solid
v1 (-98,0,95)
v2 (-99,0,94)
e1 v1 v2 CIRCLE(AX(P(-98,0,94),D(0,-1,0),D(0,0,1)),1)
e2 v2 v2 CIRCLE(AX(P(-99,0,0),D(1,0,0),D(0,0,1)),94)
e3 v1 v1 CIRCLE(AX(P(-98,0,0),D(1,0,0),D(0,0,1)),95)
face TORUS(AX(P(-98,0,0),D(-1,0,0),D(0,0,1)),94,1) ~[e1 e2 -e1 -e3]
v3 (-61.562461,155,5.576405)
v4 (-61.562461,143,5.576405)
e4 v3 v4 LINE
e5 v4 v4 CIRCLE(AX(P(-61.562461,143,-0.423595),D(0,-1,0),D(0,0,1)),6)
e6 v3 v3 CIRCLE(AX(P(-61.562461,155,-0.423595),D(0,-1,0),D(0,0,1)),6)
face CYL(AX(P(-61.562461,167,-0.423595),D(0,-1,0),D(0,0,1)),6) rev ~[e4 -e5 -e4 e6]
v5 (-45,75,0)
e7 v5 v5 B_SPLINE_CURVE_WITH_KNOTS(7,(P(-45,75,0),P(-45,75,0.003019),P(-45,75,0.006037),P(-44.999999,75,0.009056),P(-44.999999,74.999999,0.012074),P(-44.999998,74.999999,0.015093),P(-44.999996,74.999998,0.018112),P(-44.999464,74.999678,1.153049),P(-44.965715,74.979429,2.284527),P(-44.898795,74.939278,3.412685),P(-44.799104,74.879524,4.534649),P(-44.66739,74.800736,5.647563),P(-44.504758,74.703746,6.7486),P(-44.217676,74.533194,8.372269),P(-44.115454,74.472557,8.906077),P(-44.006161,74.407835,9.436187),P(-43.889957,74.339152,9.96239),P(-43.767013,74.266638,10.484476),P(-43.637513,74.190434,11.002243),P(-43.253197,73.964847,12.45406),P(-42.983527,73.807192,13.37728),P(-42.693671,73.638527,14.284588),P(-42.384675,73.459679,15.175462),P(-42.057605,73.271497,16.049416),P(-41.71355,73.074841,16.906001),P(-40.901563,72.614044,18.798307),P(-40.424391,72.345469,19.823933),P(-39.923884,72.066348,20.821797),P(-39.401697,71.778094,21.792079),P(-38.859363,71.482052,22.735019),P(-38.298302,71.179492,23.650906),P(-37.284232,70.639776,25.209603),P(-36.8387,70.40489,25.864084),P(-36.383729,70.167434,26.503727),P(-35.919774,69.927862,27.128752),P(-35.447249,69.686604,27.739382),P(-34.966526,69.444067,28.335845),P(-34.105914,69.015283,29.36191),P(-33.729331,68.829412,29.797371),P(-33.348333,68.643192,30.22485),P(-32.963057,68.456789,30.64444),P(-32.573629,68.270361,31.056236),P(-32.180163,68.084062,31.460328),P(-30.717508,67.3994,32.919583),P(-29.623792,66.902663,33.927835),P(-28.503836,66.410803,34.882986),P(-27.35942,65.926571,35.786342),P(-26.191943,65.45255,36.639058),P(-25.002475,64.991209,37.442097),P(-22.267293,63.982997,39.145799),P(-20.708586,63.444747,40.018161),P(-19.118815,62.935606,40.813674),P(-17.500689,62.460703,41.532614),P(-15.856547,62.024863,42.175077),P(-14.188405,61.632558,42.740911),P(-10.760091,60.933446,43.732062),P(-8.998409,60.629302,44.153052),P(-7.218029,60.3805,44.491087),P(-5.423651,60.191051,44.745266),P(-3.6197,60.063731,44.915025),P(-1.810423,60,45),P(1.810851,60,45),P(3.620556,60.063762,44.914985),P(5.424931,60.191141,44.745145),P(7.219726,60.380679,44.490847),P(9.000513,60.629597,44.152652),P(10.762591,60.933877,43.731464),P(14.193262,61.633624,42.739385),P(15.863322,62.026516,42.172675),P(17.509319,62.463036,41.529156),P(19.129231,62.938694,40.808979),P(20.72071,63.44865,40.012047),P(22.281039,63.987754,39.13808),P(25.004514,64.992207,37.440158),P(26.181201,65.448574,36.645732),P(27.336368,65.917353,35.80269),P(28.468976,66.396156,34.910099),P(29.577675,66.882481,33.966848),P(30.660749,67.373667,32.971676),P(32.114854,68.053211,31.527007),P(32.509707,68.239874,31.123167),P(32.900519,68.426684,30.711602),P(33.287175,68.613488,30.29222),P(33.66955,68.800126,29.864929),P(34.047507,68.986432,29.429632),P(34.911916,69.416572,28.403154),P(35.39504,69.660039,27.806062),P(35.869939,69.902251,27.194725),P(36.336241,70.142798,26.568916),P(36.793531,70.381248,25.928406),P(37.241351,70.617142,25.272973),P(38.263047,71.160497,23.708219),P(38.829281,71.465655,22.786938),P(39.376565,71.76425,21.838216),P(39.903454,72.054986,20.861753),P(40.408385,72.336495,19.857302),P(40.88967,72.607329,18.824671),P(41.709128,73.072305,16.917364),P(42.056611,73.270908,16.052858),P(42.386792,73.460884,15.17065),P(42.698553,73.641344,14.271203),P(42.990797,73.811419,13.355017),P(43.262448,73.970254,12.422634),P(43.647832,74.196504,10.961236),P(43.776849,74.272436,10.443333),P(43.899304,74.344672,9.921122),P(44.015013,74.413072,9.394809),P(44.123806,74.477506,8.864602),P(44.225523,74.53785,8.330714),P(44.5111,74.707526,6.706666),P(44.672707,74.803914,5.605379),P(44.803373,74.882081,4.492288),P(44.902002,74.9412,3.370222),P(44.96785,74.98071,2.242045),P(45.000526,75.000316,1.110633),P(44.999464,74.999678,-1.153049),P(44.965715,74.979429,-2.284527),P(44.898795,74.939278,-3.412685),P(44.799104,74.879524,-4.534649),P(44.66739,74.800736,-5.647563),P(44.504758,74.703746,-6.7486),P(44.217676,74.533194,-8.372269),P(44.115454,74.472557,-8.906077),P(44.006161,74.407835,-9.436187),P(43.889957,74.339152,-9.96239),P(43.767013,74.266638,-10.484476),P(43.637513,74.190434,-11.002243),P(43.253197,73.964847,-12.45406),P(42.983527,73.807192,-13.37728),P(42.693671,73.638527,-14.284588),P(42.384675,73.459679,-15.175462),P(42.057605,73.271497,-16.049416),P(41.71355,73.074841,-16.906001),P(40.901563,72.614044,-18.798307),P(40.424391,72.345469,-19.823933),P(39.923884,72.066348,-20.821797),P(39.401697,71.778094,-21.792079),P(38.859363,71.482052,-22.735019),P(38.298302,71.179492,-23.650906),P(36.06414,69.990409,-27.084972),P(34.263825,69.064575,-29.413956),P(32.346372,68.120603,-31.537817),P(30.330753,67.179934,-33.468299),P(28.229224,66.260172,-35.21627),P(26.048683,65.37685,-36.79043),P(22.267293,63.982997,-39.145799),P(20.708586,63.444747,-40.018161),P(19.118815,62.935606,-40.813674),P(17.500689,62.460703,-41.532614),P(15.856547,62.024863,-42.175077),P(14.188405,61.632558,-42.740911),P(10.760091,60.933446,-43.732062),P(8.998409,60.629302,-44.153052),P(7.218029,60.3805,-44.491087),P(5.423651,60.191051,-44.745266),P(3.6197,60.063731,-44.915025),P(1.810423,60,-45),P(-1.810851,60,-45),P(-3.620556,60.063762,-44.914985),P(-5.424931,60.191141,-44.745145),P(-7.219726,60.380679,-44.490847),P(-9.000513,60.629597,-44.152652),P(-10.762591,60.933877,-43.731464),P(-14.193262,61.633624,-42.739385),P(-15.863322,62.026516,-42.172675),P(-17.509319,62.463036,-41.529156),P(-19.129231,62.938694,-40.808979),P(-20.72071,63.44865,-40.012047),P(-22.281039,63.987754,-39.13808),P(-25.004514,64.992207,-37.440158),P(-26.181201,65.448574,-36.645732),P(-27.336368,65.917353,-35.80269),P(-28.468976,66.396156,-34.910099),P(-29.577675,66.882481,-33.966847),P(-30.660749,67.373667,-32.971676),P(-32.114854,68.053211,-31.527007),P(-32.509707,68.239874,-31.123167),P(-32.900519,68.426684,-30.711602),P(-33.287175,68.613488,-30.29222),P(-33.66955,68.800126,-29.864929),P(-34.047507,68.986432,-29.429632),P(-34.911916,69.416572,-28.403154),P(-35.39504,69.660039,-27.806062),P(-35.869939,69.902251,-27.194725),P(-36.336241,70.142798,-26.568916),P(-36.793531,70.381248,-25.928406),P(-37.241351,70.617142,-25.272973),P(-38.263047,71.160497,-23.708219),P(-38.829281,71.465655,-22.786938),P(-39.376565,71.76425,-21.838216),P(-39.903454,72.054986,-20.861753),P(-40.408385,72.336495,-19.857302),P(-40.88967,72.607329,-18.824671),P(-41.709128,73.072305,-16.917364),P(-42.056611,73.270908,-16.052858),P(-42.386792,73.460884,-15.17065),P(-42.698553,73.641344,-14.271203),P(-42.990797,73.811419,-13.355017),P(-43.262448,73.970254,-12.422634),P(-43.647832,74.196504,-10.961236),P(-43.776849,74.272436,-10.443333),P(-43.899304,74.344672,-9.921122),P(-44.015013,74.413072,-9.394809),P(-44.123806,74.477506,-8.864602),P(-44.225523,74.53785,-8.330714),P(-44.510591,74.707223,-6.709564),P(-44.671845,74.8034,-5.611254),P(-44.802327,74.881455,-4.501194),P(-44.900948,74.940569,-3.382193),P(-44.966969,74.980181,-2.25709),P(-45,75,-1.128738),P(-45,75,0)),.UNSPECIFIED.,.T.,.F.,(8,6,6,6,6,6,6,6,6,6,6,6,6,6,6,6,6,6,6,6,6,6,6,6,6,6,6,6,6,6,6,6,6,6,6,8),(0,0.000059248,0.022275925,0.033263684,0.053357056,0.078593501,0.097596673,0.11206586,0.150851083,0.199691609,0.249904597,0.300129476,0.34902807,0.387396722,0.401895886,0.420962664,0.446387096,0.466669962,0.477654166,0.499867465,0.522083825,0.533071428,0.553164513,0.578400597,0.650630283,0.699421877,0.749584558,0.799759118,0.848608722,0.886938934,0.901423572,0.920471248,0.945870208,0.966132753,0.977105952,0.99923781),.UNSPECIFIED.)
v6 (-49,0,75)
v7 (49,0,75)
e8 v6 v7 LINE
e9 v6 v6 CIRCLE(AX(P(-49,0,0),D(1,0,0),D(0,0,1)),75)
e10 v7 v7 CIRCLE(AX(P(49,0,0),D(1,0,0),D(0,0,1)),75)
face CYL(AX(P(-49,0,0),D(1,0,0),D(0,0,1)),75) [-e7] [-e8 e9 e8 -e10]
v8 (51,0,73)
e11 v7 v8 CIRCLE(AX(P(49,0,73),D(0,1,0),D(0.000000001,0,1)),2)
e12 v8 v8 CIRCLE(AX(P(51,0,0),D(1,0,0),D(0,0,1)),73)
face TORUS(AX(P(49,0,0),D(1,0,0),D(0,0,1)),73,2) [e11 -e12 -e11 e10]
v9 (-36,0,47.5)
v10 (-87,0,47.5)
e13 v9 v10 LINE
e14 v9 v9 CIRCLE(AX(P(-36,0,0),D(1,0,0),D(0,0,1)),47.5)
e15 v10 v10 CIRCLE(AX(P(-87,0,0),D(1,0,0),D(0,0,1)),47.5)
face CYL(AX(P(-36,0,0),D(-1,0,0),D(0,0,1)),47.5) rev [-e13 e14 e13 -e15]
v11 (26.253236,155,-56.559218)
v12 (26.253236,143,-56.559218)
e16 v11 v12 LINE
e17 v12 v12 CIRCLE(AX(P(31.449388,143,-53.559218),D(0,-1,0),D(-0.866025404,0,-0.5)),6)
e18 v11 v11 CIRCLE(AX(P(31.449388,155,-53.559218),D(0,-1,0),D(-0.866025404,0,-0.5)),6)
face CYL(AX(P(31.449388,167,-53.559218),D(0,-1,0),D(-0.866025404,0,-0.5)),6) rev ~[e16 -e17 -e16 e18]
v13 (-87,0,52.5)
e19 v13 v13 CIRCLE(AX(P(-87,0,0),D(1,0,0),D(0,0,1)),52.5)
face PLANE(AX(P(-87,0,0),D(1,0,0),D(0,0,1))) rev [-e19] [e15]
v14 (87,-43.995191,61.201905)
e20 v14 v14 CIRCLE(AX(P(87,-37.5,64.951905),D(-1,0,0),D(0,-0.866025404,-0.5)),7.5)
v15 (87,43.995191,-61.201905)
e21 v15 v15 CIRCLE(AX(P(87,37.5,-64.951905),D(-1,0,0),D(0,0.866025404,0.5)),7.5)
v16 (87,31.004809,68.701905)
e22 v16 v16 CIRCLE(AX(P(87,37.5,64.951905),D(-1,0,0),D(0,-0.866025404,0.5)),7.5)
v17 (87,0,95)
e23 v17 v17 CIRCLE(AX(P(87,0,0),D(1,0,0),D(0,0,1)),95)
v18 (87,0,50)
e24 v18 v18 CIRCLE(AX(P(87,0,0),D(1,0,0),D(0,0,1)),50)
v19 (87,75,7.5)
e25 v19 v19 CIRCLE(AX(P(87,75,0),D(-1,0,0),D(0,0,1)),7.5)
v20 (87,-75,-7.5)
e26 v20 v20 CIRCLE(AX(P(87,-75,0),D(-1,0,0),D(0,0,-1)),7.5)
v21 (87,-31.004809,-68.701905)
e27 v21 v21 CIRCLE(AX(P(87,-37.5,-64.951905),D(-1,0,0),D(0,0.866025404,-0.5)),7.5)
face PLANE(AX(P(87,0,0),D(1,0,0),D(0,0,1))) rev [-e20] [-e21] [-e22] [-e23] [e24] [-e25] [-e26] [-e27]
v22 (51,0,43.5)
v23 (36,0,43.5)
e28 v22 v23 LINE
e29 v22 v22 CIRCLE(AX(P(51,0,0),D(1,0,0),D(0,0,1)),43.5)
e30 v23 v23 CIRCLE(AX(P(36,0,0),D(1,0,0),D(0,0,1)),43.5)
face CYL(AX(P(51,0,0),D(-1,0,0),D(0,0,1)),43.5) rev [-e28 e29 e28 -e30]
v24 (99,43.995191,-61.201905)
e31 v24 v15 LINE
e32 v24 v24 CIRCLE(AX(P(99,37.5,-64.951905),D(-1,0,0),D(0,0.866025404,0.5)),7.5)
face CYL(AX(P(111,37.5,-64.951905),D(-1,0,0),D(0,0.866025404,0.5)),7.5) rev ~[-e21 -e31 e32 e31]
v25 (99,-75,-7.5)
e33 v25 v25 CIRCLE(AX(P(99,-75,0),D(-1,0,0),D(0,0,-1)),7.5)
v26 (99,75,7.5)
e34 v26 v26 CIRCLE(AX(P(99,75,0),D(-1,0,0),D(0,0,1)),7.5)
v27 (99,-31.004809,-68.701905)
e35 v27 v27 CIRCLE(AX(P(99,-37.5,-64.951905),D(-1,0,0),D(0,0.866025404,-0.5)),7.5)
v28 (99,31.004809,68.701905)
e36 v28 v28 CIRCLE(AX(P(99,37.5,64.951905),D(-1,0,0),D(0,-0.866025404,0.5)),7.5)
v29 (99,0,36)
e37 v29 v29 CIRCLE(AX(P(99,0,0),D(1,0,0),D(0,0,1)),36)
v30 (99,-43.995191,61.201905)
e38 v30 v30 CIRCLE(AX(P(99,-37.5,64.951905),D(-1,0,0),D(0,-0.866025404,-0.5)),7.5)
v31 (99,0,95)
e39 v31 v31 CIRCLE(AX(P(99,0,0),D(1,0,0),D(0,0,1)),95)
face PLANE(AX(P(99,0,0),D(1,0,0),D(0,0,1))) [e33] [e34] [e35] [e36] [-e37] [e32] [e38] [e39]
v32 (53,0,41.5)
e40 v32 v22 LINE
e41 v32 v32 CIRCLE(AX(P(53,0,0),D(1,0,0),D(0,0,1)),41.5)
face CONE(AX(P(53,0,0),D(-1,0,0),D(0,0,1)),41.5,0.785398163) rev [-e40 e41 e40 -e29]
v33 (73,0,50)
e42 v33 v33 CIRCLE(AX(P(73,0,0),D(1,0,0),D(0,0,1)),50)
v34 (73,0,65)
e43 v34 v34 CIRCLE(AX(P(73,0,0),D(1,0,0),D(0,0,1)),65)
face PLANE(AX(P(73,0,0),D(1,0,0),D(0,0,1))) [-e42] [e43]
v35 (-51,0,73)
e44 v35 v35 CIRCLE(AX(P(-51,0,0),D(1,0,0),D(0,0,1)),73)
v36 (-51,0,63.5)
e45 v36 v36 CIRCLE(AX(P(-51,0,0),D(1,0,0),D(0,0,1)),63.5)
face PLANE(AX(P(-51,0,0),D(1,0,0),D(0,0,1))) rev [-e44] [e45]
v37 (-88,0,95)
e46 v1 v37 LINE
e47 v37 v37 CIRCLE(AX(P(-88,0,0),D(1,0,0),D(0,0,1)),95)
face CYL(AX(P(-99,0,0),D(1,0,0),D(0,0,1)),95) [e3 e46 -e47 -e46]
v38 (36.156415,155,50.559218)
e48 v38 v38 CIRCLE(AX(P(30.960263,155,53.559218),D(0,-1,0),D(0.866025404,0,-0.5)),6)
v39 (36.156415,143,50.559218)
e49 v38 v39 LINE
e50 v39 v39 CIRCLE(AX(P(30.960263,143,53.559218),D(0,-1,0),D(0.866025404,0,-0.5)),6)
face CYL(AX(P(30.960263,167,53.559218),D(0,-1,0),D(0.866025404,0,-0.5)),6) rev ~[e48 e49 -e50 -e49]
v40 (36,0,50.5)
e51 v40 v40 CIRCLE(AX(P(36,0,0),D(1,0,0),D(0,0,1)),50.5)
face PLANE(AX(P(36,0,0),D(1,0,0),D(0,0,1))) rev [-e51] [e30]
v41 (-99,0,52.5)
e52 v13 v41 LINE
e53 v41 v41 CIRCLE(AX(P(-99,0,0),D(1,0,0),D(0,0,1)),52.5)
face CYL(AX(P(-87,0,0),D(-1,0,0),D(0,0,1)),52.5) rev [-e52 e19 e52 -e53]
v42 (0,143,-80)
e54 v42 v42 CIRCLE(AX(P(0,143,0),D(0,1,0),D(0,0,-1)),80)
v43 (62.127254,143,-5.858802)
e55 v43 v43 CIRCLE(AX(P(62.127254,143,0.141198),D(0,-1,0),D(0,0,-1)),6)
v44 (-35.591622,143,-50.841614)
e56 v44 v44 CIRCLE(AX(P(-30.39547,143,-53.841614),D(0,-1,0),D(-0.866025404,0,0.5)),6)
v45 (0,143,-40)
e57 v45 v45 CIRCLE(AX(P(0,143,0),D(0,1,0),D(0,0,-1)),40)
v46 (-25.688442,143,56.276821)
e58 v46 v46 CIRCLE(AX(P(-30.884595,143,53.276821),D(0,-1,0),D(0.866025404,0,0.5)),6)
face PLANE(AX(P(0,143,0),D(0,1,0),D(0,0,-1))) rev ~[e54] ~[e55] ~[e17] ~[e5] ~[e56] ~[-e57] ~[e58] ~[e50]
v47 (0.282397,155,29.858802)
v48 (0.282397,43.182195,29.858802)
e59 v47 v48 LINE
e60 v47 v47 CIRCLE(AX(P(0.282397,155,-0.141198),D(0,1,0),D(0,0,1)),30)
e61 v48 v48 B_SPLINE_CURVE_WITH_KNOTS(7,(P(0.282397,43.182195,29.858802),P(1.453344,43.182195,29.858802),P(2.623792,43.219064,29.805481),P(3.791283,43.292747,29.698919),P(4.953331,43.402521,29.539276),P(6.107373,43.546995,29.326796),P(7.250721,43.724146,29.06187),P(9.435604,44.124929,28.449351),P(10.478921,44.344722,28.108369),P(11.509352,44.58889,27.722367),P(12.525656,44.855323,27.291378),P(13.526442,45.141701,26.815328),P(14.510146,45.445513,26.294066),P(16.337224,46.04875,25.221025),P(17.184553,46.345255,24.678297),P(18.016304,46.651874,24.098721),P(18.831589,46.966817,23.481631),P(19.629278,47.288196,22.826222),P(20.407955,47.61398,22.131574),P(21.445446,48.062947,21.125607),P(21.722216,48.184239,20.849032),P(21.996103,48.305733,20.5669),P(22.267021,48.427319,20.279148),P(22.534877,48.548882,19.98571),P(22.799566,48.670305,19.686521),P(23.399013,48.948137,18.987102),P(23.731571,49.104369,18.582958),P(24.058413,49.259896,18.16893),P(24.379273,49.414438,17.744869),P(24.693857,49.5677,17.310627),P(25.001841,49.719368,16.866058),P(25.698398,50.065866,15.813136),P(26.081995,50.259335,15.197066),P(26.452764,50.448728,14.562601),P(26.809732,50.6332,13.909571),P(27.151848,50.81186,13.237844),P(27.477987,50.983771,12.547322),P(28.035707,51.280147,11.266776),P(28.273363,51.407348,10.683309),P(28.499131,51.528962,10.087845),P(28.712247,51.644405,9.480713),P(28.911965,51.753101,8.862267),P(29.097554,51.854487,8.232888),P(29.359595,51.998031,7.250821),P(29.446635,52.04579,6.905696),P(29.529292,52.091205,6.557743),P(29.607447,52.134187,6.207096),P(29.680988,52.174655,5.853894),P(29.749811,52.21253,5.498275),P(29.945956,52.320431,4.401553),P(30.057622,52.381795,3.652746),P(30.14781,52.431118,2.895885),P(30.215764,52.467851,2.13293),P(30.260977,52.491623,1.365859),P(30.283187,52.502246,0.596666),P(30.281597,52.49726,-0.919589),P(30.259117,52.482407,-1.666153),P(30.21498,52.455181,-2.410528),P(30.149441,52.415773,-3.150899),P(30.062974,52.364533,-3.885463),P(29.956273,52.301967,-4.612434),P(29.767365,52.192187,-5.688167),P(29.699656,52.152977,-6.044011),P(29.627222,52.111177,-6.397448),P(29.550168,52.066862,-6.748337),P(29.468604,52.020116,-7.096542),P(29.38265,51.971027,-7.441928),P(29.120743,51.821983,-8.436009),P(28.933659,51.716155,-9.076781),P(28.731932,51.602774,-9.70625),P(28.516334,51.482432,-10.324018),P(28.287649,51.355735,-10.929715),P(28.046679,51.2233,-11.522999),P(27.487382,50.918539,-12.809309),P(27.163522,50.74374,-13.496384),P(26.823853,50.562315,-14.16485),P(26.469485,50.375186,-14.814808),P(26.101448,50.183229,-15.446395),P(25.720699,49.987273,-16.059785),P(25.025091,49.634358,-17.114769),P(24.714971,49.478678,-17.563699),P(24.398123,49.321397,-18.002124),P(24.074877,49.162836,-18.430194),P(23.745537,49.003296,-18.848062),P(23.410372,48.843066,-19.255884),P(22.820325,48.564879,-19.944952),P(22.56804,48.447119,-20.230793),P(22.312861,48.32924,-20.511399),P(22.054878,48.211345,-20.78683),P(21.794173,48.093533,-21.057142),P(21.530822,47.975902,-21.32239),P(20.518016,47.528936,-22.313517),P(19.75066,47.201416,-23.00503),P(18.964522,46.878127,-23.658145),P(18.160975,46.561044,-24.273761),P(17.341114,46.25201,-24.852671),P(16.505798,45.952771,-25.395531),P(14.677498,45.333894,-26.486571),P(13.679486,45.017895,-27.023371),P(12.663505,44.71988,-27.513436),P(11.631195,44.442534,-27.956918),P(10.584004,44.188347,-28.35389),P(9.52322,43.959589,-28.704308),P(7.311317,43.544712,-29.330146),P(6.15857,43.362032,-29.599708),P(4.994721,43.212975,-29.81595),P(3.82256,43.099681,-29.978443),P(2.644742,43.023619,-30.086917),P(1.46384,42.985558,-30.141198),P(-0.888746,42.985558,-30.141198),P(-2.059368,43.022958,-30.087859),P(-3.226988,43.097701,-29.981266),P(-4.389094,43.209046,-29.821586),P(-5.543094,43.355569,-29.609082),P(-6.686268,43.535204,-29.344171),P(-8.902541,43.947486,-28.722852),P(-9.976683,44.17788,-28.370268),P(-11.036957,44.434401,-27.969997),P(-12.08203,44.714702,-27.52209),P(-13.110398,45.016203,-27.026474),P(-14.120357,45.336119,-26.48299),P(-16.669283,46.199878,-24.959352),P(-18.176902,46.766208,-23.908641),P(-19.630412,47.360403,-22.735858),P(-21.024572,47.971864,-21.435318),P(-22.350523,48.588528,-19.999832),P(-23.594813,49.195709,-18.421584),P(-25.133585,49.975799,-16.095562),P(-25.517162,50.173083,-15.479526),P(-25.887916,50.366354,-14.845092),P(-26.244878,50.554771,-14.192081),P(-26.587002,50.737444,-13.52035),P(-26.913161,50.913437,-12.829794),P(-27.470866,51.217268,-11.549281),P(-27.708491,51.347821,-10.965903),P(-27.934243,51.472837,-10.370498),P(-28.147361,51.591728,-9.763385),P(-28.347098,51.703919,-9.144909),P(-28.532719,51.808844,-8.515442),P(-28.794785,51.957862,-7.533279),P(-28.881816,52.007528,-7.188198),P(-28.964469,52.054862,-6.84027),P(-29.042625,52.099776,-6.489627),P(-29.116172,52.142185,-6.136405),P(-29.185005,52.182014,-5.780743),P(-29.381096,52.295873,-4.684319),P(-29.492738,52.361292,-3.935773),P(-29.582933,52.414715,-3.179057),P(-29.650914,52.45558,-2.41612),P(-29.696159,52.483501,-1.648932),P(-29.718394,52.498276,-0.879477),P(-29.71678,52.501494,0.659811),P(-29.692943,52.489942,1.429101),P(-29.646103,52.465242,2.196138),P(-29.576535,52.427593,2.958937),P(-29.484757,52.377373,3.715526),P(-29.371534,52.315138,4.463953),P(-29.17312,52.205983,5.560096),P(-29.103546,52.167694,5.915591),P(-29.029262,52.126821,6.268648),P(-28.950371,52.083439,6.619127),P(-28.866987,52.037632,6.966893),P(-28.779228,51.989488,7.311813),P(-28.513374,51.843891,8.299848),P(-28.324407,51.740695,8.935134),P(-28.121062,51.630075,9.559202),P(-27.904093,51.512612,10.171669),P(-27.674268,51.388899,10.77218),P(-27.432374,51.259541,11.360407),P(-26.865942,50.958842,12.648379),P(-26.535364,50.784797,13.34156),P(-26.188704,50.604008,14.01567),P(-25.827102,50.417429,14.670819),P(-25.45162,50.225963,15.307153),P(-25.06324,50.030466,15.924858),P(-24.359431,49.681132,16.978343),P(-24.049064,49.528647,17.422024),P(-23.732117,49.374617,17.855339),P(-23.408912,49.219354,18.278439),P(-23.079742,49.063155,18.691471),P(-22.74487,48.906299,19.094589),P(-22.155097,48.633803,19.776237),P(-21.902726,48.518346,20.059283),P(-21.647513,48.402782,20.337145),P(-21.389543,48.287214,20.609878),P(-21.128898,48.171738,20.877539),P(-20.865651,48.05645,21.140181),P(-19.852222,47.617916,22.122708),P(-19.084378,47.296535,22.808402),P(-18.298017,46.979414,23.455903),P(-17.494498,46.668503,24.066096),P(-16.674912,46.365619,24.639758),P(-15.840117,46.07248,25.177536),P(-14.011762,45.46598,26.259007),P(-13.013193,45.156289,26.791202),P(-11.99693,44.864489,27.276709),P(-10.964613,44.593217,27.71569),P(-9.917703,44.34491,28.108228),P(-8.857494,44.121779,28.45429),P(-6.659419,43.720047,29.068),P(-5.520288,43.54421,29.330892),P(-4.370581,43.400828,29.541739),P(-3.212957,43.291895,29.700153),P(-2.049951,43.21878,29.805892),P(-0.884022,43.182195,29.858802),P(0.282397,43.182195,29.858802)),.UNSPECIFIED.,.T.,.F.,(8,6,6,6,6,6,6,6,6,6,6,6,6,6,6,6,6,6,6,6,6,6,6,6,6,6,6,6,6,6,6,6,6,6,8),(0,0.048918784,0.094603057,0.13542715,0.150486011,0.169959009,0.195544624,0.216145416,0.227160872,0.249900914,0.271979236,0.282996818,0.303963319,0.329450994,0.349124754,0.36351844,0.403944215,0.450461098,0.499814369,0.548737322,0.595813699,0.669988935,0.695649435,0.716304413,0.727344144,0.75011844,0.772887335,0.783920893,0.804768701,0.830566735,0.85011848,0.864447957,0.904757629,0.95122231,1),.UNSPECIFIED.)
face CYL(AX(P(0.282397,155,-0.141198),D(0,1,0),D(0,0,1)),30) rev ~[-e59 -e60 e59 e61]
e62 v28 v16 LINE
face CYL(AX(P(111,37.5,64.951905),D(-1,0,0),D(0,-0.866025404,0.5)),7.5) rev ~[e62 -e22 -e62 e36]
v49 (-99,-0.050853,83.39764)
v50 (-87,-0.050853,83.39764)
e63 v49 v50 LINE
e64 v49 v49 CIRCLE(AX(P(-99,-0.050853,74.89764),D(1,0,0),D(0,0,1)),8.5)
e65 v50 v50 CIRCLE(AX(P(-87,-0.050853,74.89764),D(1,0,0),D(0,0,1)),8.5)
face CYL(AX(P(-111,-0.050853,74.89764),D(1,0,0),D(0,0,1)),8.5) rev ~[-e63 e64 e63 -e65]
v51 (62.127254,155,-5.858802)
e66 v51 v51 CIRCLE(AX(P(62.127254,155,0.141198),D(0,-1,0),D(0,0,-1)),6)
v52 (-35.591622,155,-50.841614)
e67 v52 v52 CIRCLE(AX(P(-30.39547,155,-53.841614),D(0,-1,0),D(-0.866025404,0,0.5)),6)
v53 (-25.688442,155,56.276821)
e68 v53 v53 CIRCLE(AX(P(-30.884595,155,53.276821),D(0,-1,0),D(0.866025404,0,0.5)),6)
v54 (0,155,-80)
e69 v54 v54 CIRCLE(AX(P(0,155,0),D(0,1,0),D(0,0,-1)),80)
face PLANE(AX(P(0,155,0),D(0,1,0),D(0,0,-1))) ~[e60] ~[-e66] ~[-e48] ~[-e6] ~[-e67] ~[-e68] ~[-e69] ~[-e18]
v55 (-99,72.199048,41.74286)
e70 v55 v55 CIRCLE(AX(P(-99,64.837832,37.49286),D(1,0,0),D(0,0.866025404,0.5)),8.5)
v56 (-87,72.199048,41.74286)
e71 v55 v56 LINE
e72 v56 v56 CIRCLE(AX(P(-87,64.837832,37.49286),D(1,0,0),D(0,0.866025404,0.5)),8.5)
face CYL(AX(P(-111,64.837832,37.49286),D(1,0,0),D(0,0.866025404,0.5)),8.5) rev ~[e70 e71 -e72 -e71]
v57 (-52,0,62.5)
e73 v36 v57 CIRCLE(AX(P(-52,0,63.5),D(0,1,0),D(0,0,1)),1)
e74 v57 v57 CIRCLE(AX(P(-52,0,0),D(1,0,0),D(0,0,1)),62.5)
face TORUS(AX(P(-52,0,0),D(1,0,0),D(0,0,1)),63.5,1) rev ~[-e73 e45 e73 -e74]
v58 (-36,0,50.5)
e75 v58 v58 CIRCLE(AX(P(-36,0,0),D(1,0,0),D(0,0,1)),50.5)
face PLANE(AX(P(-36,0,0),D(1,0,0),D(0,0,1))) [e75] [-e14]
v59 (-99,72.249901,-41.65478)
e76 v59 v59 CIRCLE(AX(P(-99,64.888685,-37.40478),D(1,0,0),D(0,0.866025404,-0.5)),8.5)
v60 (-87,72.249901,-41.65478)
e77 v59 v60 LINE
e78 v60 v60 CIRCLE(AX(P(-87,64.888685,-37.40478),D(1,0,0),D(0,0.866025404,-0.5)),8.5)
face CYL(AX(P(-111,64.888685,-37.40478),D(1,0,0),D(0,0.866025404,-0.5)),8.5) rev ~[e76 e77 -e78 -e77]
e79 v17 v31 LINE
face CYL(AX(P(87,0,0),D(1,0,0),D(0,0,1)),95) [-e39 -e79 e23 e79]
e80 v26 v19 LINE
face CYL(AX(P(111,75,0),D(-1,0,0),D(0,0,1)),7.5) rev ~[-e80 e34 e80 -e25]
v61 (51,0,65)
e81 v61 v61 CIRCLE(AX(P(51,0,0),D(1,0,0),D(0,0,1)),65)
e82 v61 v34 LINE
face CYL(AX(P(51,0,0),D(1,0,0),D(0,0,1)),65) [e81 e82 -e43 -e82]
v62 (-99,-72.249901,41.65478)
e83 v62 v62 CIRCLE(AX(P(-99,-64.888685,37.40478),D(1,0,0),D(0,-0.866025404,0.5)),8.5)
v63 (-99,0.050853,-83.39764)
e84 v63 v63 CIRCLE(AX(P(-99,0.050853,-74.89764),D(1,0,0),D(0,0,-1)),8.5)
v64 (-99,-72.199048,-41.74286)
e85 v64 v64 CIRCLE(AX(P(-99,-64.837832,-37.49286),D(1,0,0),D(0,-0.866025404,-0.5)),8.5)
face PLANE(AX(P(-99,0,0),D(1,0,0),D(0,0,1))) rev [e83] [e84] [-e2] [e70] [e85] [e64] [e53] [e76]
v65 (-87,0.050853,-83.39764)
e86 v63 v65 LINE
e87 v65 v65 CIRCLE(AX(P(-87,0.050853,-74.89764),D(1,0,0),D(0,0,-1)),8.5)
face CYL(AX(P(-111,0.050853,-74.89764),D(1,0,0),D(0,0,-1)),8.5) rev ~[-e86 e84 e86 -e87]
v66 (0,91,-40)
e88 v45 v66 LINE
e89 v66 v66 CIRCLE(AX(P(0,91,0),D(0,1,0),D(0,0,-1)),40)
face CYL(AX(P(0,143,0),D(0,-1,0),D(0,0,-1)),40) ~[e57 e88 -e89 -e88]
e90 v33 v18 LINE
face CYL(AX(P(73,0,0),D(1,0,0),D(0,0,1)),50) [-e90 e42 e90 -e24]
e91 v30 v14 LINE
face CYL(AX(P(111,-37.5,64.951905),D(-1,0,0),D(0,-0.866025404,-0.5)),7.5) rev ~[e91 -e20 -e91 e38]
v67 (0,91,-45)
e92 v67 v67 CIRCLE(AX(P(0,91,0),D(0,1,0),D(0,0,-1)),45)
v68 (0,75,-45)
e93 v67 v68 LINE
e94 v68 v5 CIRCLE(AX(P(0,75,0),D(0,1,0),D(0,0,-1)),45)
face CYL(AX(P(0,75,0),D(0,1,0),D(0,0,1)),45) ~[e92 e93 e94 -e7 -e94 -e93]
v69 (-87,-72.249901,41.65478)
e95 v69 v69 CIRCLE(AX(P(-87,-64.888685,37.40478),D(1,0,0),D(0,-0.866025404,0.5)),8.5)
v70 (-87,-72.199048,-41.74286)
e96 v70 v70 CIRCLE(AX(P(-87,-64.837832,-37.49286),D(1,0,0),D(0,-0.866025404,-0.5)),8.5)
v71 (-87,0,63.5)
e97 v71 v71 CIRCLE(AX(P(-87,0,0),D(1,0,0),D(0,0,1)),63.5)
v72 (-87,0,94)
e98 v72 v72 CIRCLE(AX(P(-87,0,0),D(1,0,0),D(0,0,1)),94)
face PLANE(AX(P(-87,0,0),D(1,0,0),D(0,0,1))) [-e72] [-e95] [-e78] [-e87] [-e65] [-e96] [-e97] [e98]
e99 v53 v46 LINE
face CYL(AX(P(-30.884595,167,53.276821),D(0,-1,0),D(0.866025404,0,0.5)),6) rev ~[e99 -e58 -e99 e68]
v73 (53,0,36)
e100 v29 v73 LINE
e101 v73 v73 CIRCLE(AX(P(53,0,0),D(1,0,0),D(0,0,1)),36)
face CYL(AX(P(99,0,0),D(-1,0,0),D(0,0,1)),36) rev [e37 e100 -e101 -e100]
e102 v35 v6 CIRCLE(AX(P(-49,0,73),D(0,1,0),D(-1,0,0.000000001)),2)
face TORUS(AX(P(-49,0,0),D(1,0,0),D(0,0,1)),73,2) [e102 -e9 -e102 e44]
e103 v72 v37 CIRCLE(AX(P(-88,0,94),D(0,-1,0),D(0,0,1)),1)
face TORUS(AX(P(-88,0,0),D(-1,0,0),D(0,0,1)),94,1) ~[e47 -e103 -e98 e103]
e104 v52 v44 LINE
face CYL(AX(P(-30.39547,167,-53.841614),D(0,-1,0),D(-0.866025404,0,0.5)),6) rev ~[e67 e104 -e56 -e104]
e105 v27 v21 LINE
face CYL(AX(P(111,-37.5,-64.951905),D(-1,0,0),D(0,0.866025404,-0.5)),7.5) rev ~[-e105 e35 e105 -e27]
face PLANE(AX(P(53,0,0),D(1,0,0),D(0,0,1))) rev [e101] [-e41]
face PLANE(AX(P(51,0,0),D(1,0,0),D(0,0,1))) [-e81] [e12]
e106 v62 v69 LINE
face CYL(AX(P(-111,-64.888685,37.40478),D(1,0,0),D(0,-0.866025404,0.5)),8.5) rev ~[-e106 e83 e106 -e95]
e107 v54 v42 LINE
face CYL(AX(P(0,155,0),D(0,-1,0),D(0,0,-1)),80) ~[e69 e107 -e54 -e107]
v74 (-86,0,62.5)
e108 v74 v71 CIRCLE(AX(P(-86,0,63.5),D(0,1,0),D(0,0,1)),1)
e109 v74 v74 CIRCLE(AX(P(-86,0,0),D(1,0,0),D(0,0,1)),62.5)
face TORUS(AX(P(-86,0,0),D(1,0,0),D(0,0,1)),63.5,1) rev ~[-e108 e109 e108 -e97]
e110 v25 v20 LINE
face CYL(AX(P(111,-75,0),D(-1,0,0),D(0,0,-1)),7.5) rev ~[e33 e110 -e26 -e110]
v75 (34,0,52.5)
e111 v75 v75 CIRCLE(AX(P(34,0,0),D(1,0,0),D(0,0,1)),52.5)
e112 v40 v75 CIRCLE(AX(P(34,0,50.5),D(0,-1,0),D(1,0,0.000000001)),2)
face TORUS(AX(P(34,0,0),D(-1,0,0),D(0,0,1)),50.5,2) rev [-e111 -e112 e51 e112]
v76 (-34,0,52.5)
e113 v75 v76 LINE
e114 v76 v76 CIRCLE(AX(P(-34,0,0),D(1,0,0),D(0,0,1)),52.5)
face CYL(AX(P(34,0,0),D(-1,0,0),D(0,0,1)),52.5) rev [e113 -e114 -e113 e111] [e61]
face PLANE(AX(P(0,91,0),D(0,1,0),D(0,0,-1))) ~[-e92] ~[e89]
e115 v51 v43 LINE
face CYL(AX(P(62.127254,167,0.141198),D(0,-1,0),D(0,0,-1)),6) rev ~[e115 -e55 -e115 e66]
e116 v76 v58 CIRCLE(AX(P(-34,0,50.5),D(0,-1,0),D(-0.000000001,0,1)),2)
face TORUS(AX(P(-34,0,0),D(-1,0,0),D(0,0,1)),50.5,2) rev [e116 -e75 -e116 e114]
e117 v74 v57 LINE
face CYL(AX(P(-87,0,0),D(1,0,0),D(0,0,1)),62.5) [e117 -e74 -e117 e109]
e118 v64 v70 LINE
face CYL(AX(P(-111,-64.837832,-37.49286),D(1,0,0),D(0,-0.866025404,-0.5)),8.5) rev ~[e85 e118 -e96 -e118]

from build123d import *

# Parameters (mm, degrees)
F_12_0MM_DOWEL_HOLE1_D      = 15
F_12_0MM_DOWEL_HOLE1_DEPTH  = 12
CIRPATTERN1_COUNT           = 6
F_12_0MM_DOWEL_HOLE2_D      = 17
F_12_0MM_DOWEL_HOLE2_DEPTH  = 12
CIRPATTERN2_COUNT           = 6
BOSS_EXTRUDE1_REACH         = 220.463
BOSS_EXTRUDE1_END_RADIUS    = 75
SKETCH6_R                   = 45
F_12_0MM_DOWEL_HOLE3_REACH  = 287.322
F_12_0MM_DOWEL_HOLE3_BORE_R = 30
F_12_0MM_DOWEL_HOLE4_D      = 12
F_12_0MM_DOWEL_HOLE4_DEPTH  = 12
CIRPATTERN3_COUNT           = 6
FILLET1_R                   = 1


with BuildPart() as part:
    # Sketch1 → Revolve1 (revolve)
    with BuildSketch(Plane.XY, mode=Mode.PRIVATE) as revolve1_sk:
        with BuildLine():
            Line((-87, -47.5), (-87, -52.5))
            Line((-87, -52.5), (-99, -52.5))
            Line((-99, -52.5), (-99, -95))
            Line((-99, -95), (-87, -95))
            Line((-87, -95), (-87, -62.5))
            Line((-87, -62.5), (-51, -62.5))
            Line((-51, -62.5), (-51, -73))
            ThreePointArc((-51, -73), (-50.414213562, -74.414213562), (-49, -75))
            Line((-49, -75), (49, -75))
            ThreePointArc((49, -75), (50.414213562, -74.414213562), (51, -73))
            Line((51, -73), (51, -65))
            Line((51, -65), (73, -65))
            Line((73, -65), (73, -50))
            Line((73, -50), (87, -50))
            Line((87, -50), (87, -95))
            Line((87, -95), (99, -95))
            Line((99, -95), (99, -36))
            Line((99, -36), (53, -36))
            Line((53, -36), (53, -41.5))
            Line((53, -41.5), (51, -43.5))
            Line((51, -43.5), (36, -43.5))
            Line((36, -43.5), (36, -50.5))
            ThreePointArc((36, -50.5), (35.414213562, -51.914213562), (34, -52.5))
            Line((34, -52.5), (-34, -52.5))
            ThreePointArc((-34, -52.5), (-35.414213562, -51.914213562), (-36, -50.5))
            Line((-36, -50.5), (-36, -47.5))
            Line((-36, -47.5), (-87, -47.5))
        make_face()
    revolve(revolve1_sk.sketch.rotate(Axis((0, 0, 0), (1, 0, 0)), 270), axis=Axis((0, 0, 0), (1, 0, 0)))

    # Ø12.0mm Dowel Hole1
    with Locations(Plane(origin=(99, 0, 0), x_dir=(0, 0, -1), z_dir=(1, 0, 0))):
        with Locations((0, 75)):
            f_12_0mm_dowel_hole1 = Hole(F_12_0MM_DOWEL_HOLE1_D / 2, depth=F_12_0MM_DOWEL_HOLE1_DEPTH)

    # CirPattern1: Ø12.0mm Dowel Hole1 ×6 about axis
    cirpattern1_axis = Axis((0, 0, 0), (1, 0, 0))
    for i in range(1, CIRPATTERN1_COUNT):
        add(f_12_0mm_dowel_hole1.rotate(cirpattern1_axis, i * 360 / CIRPATTERN1_COUNT), mode=Mode.SUBTRACT)

    # Ø12.0mm Dowel Hole2
    with Locations(Plane(origin=(-99, -0.050852652, 74.897639686), x_dir=(0, 0, -1), z_dir=(-1, 0, 0))):
        with Locations((0, 0)):
            f_12_0mm_dowel_hole2 = Hole(F_12_0MM_DOWEL_HOLE2_D / 2, depth=F_12_0MM_DOWEL_HOLE2_DEPTH)

    # CirPattern2: Ø12.0mm Dowel Hole2 ×6 about axis
    cirpattern2_axis = Axis((0, 0, 0), (1, 0, 0))
    for i in range(1, CIRPATTERN2_COUNT):
        add(f_12_0mm_dowel_hole2.rotate(cirpattern2_axis, i * 360 / CIRPATTERN2_COUNT), mode=Mode.SUBTRACT)



with BuildPart() as body_2:
    # Sketch5 → Revolve2 (revolve)
    with BuildSketch(Plane.XY, mode=Mode.PRIVATE) as revolve2_sk:
        Polygon((0, 155), (80, 155), (80, 143), (40, 143), (40, 91), (45, 91), (45, 75), (0, 75), align=None)
    revolve(revolve2_sk.sketch.rotate(Axis((0, 0, 0), (0, 1, 0)), 90), axis=Axis((0, 0, 0), (0, 1, 0)))


with BuildPart() as part_1:
    add(part.part)

    add(body_2.part)  # Boss-Extrude1 merges body 2
    # Boss-Extrude1: up to this cylinder (the profile starts outside it)
    boss_extrude1_end = Plane(origin=(0, 0, 0), z_dir=(-1, 0, 0)) * Cylinder(BOSS_EXTRUDE1_END_RADIUS, 591.926, mode=Mode.PRIVATE)
    # Sketch6 → Boss-Extrude1 (add, up to the surface)
    with BuildSketch(Plane.XZ.offset(-75), mode=Mode.PRIVATE) as boss_extrude1_sk1:
        with Locations(Location((0, 0, 0), (0, 0, 90))):
            Circle(SKETCH6_R)
    boss_extrude1_tool1 = extrude(boss_extrude1_sk1.sketch, amount=BOSS_EXTRUDE1_REACH, mode=Mode.PRIVATE) - boss_extrude1_end
    add(boss_extrude1_tool1.solids().sort_by_distance((0, 75, 0))[0])
    add(boss_extrude1_tool1.solids().sort_by_distance((0, 75, 0))[1])

    # Ø12.0mm Dowel Hole3 bore (on position points) → Ø12.0mm Dowel Hole3 (cut, up to next)
    with BuildSketch(Plane(origin=(0.28239661, 155, -0.141198305), x_dir=(0, 0, 1), z_dir=(0, 1, 0)), mode=Mode.PRIVATE) as f_12_0mm_dowel_hole3_sk1:
        Circle(F_12_0MM_DOWEL_HOLE3_BORE_R)
    f_12_0mm_dowel_hole3_tool1 = extrude(f_12_0mm_dowel_hole3_sk1.sketch, amount=-F_12_0MM_DOWEL_HOLE3_REACH, mode=Mode.PRIVATE) & part_1.part
    add(f_12_0mm_dowel_hole3_tool1.solids().sort_by_distance((0.282397, 155, -0.141198))[0], mode=Mode.SUBTRACT)

    # Ø12.0mm Dowel Hole4
    with Locations(Plane(origin=(62.127254245, 155, 0.141198305), x_dir=(0, 0, 1), z_dir=(0, 1, 0))):
        with Locations((0, 0)):
            f_12_0mm_dowel_hole4 = Hole(F_12_0MM_DOWEL_HOLE4_D / 2, depth=F_12_0MM_DOWEL_HOLE4_DEPTH)

    # CirPattern3: Ø12.0mm Dowel Hole4 ×6 about axis
    cirpattern3_axis = Axis((0.28239661, 0, -0.141198305), (0, 1, 0))
    for i in range(1, CIRPATTERN3_COUNT):
        add(f_12_0mm_dowel_hole4.rotate(cirpattern3_axis, i * 360 / CIRPATTERN3_COUNT), mode=Mode.SUBTRACT)

    # Fillet1
    fillet1_edges = [part_1.edges().sort_by_distance(p)[0] for p in [
        (-51, 0, -62.5),
        (-87, 0, -62.5),
        (-87, 0, -95),
        (-99, 0, -95),
    ]]
    fillet(fillet1_edges, radius=FILLET1_R)


solid = part_1.part
